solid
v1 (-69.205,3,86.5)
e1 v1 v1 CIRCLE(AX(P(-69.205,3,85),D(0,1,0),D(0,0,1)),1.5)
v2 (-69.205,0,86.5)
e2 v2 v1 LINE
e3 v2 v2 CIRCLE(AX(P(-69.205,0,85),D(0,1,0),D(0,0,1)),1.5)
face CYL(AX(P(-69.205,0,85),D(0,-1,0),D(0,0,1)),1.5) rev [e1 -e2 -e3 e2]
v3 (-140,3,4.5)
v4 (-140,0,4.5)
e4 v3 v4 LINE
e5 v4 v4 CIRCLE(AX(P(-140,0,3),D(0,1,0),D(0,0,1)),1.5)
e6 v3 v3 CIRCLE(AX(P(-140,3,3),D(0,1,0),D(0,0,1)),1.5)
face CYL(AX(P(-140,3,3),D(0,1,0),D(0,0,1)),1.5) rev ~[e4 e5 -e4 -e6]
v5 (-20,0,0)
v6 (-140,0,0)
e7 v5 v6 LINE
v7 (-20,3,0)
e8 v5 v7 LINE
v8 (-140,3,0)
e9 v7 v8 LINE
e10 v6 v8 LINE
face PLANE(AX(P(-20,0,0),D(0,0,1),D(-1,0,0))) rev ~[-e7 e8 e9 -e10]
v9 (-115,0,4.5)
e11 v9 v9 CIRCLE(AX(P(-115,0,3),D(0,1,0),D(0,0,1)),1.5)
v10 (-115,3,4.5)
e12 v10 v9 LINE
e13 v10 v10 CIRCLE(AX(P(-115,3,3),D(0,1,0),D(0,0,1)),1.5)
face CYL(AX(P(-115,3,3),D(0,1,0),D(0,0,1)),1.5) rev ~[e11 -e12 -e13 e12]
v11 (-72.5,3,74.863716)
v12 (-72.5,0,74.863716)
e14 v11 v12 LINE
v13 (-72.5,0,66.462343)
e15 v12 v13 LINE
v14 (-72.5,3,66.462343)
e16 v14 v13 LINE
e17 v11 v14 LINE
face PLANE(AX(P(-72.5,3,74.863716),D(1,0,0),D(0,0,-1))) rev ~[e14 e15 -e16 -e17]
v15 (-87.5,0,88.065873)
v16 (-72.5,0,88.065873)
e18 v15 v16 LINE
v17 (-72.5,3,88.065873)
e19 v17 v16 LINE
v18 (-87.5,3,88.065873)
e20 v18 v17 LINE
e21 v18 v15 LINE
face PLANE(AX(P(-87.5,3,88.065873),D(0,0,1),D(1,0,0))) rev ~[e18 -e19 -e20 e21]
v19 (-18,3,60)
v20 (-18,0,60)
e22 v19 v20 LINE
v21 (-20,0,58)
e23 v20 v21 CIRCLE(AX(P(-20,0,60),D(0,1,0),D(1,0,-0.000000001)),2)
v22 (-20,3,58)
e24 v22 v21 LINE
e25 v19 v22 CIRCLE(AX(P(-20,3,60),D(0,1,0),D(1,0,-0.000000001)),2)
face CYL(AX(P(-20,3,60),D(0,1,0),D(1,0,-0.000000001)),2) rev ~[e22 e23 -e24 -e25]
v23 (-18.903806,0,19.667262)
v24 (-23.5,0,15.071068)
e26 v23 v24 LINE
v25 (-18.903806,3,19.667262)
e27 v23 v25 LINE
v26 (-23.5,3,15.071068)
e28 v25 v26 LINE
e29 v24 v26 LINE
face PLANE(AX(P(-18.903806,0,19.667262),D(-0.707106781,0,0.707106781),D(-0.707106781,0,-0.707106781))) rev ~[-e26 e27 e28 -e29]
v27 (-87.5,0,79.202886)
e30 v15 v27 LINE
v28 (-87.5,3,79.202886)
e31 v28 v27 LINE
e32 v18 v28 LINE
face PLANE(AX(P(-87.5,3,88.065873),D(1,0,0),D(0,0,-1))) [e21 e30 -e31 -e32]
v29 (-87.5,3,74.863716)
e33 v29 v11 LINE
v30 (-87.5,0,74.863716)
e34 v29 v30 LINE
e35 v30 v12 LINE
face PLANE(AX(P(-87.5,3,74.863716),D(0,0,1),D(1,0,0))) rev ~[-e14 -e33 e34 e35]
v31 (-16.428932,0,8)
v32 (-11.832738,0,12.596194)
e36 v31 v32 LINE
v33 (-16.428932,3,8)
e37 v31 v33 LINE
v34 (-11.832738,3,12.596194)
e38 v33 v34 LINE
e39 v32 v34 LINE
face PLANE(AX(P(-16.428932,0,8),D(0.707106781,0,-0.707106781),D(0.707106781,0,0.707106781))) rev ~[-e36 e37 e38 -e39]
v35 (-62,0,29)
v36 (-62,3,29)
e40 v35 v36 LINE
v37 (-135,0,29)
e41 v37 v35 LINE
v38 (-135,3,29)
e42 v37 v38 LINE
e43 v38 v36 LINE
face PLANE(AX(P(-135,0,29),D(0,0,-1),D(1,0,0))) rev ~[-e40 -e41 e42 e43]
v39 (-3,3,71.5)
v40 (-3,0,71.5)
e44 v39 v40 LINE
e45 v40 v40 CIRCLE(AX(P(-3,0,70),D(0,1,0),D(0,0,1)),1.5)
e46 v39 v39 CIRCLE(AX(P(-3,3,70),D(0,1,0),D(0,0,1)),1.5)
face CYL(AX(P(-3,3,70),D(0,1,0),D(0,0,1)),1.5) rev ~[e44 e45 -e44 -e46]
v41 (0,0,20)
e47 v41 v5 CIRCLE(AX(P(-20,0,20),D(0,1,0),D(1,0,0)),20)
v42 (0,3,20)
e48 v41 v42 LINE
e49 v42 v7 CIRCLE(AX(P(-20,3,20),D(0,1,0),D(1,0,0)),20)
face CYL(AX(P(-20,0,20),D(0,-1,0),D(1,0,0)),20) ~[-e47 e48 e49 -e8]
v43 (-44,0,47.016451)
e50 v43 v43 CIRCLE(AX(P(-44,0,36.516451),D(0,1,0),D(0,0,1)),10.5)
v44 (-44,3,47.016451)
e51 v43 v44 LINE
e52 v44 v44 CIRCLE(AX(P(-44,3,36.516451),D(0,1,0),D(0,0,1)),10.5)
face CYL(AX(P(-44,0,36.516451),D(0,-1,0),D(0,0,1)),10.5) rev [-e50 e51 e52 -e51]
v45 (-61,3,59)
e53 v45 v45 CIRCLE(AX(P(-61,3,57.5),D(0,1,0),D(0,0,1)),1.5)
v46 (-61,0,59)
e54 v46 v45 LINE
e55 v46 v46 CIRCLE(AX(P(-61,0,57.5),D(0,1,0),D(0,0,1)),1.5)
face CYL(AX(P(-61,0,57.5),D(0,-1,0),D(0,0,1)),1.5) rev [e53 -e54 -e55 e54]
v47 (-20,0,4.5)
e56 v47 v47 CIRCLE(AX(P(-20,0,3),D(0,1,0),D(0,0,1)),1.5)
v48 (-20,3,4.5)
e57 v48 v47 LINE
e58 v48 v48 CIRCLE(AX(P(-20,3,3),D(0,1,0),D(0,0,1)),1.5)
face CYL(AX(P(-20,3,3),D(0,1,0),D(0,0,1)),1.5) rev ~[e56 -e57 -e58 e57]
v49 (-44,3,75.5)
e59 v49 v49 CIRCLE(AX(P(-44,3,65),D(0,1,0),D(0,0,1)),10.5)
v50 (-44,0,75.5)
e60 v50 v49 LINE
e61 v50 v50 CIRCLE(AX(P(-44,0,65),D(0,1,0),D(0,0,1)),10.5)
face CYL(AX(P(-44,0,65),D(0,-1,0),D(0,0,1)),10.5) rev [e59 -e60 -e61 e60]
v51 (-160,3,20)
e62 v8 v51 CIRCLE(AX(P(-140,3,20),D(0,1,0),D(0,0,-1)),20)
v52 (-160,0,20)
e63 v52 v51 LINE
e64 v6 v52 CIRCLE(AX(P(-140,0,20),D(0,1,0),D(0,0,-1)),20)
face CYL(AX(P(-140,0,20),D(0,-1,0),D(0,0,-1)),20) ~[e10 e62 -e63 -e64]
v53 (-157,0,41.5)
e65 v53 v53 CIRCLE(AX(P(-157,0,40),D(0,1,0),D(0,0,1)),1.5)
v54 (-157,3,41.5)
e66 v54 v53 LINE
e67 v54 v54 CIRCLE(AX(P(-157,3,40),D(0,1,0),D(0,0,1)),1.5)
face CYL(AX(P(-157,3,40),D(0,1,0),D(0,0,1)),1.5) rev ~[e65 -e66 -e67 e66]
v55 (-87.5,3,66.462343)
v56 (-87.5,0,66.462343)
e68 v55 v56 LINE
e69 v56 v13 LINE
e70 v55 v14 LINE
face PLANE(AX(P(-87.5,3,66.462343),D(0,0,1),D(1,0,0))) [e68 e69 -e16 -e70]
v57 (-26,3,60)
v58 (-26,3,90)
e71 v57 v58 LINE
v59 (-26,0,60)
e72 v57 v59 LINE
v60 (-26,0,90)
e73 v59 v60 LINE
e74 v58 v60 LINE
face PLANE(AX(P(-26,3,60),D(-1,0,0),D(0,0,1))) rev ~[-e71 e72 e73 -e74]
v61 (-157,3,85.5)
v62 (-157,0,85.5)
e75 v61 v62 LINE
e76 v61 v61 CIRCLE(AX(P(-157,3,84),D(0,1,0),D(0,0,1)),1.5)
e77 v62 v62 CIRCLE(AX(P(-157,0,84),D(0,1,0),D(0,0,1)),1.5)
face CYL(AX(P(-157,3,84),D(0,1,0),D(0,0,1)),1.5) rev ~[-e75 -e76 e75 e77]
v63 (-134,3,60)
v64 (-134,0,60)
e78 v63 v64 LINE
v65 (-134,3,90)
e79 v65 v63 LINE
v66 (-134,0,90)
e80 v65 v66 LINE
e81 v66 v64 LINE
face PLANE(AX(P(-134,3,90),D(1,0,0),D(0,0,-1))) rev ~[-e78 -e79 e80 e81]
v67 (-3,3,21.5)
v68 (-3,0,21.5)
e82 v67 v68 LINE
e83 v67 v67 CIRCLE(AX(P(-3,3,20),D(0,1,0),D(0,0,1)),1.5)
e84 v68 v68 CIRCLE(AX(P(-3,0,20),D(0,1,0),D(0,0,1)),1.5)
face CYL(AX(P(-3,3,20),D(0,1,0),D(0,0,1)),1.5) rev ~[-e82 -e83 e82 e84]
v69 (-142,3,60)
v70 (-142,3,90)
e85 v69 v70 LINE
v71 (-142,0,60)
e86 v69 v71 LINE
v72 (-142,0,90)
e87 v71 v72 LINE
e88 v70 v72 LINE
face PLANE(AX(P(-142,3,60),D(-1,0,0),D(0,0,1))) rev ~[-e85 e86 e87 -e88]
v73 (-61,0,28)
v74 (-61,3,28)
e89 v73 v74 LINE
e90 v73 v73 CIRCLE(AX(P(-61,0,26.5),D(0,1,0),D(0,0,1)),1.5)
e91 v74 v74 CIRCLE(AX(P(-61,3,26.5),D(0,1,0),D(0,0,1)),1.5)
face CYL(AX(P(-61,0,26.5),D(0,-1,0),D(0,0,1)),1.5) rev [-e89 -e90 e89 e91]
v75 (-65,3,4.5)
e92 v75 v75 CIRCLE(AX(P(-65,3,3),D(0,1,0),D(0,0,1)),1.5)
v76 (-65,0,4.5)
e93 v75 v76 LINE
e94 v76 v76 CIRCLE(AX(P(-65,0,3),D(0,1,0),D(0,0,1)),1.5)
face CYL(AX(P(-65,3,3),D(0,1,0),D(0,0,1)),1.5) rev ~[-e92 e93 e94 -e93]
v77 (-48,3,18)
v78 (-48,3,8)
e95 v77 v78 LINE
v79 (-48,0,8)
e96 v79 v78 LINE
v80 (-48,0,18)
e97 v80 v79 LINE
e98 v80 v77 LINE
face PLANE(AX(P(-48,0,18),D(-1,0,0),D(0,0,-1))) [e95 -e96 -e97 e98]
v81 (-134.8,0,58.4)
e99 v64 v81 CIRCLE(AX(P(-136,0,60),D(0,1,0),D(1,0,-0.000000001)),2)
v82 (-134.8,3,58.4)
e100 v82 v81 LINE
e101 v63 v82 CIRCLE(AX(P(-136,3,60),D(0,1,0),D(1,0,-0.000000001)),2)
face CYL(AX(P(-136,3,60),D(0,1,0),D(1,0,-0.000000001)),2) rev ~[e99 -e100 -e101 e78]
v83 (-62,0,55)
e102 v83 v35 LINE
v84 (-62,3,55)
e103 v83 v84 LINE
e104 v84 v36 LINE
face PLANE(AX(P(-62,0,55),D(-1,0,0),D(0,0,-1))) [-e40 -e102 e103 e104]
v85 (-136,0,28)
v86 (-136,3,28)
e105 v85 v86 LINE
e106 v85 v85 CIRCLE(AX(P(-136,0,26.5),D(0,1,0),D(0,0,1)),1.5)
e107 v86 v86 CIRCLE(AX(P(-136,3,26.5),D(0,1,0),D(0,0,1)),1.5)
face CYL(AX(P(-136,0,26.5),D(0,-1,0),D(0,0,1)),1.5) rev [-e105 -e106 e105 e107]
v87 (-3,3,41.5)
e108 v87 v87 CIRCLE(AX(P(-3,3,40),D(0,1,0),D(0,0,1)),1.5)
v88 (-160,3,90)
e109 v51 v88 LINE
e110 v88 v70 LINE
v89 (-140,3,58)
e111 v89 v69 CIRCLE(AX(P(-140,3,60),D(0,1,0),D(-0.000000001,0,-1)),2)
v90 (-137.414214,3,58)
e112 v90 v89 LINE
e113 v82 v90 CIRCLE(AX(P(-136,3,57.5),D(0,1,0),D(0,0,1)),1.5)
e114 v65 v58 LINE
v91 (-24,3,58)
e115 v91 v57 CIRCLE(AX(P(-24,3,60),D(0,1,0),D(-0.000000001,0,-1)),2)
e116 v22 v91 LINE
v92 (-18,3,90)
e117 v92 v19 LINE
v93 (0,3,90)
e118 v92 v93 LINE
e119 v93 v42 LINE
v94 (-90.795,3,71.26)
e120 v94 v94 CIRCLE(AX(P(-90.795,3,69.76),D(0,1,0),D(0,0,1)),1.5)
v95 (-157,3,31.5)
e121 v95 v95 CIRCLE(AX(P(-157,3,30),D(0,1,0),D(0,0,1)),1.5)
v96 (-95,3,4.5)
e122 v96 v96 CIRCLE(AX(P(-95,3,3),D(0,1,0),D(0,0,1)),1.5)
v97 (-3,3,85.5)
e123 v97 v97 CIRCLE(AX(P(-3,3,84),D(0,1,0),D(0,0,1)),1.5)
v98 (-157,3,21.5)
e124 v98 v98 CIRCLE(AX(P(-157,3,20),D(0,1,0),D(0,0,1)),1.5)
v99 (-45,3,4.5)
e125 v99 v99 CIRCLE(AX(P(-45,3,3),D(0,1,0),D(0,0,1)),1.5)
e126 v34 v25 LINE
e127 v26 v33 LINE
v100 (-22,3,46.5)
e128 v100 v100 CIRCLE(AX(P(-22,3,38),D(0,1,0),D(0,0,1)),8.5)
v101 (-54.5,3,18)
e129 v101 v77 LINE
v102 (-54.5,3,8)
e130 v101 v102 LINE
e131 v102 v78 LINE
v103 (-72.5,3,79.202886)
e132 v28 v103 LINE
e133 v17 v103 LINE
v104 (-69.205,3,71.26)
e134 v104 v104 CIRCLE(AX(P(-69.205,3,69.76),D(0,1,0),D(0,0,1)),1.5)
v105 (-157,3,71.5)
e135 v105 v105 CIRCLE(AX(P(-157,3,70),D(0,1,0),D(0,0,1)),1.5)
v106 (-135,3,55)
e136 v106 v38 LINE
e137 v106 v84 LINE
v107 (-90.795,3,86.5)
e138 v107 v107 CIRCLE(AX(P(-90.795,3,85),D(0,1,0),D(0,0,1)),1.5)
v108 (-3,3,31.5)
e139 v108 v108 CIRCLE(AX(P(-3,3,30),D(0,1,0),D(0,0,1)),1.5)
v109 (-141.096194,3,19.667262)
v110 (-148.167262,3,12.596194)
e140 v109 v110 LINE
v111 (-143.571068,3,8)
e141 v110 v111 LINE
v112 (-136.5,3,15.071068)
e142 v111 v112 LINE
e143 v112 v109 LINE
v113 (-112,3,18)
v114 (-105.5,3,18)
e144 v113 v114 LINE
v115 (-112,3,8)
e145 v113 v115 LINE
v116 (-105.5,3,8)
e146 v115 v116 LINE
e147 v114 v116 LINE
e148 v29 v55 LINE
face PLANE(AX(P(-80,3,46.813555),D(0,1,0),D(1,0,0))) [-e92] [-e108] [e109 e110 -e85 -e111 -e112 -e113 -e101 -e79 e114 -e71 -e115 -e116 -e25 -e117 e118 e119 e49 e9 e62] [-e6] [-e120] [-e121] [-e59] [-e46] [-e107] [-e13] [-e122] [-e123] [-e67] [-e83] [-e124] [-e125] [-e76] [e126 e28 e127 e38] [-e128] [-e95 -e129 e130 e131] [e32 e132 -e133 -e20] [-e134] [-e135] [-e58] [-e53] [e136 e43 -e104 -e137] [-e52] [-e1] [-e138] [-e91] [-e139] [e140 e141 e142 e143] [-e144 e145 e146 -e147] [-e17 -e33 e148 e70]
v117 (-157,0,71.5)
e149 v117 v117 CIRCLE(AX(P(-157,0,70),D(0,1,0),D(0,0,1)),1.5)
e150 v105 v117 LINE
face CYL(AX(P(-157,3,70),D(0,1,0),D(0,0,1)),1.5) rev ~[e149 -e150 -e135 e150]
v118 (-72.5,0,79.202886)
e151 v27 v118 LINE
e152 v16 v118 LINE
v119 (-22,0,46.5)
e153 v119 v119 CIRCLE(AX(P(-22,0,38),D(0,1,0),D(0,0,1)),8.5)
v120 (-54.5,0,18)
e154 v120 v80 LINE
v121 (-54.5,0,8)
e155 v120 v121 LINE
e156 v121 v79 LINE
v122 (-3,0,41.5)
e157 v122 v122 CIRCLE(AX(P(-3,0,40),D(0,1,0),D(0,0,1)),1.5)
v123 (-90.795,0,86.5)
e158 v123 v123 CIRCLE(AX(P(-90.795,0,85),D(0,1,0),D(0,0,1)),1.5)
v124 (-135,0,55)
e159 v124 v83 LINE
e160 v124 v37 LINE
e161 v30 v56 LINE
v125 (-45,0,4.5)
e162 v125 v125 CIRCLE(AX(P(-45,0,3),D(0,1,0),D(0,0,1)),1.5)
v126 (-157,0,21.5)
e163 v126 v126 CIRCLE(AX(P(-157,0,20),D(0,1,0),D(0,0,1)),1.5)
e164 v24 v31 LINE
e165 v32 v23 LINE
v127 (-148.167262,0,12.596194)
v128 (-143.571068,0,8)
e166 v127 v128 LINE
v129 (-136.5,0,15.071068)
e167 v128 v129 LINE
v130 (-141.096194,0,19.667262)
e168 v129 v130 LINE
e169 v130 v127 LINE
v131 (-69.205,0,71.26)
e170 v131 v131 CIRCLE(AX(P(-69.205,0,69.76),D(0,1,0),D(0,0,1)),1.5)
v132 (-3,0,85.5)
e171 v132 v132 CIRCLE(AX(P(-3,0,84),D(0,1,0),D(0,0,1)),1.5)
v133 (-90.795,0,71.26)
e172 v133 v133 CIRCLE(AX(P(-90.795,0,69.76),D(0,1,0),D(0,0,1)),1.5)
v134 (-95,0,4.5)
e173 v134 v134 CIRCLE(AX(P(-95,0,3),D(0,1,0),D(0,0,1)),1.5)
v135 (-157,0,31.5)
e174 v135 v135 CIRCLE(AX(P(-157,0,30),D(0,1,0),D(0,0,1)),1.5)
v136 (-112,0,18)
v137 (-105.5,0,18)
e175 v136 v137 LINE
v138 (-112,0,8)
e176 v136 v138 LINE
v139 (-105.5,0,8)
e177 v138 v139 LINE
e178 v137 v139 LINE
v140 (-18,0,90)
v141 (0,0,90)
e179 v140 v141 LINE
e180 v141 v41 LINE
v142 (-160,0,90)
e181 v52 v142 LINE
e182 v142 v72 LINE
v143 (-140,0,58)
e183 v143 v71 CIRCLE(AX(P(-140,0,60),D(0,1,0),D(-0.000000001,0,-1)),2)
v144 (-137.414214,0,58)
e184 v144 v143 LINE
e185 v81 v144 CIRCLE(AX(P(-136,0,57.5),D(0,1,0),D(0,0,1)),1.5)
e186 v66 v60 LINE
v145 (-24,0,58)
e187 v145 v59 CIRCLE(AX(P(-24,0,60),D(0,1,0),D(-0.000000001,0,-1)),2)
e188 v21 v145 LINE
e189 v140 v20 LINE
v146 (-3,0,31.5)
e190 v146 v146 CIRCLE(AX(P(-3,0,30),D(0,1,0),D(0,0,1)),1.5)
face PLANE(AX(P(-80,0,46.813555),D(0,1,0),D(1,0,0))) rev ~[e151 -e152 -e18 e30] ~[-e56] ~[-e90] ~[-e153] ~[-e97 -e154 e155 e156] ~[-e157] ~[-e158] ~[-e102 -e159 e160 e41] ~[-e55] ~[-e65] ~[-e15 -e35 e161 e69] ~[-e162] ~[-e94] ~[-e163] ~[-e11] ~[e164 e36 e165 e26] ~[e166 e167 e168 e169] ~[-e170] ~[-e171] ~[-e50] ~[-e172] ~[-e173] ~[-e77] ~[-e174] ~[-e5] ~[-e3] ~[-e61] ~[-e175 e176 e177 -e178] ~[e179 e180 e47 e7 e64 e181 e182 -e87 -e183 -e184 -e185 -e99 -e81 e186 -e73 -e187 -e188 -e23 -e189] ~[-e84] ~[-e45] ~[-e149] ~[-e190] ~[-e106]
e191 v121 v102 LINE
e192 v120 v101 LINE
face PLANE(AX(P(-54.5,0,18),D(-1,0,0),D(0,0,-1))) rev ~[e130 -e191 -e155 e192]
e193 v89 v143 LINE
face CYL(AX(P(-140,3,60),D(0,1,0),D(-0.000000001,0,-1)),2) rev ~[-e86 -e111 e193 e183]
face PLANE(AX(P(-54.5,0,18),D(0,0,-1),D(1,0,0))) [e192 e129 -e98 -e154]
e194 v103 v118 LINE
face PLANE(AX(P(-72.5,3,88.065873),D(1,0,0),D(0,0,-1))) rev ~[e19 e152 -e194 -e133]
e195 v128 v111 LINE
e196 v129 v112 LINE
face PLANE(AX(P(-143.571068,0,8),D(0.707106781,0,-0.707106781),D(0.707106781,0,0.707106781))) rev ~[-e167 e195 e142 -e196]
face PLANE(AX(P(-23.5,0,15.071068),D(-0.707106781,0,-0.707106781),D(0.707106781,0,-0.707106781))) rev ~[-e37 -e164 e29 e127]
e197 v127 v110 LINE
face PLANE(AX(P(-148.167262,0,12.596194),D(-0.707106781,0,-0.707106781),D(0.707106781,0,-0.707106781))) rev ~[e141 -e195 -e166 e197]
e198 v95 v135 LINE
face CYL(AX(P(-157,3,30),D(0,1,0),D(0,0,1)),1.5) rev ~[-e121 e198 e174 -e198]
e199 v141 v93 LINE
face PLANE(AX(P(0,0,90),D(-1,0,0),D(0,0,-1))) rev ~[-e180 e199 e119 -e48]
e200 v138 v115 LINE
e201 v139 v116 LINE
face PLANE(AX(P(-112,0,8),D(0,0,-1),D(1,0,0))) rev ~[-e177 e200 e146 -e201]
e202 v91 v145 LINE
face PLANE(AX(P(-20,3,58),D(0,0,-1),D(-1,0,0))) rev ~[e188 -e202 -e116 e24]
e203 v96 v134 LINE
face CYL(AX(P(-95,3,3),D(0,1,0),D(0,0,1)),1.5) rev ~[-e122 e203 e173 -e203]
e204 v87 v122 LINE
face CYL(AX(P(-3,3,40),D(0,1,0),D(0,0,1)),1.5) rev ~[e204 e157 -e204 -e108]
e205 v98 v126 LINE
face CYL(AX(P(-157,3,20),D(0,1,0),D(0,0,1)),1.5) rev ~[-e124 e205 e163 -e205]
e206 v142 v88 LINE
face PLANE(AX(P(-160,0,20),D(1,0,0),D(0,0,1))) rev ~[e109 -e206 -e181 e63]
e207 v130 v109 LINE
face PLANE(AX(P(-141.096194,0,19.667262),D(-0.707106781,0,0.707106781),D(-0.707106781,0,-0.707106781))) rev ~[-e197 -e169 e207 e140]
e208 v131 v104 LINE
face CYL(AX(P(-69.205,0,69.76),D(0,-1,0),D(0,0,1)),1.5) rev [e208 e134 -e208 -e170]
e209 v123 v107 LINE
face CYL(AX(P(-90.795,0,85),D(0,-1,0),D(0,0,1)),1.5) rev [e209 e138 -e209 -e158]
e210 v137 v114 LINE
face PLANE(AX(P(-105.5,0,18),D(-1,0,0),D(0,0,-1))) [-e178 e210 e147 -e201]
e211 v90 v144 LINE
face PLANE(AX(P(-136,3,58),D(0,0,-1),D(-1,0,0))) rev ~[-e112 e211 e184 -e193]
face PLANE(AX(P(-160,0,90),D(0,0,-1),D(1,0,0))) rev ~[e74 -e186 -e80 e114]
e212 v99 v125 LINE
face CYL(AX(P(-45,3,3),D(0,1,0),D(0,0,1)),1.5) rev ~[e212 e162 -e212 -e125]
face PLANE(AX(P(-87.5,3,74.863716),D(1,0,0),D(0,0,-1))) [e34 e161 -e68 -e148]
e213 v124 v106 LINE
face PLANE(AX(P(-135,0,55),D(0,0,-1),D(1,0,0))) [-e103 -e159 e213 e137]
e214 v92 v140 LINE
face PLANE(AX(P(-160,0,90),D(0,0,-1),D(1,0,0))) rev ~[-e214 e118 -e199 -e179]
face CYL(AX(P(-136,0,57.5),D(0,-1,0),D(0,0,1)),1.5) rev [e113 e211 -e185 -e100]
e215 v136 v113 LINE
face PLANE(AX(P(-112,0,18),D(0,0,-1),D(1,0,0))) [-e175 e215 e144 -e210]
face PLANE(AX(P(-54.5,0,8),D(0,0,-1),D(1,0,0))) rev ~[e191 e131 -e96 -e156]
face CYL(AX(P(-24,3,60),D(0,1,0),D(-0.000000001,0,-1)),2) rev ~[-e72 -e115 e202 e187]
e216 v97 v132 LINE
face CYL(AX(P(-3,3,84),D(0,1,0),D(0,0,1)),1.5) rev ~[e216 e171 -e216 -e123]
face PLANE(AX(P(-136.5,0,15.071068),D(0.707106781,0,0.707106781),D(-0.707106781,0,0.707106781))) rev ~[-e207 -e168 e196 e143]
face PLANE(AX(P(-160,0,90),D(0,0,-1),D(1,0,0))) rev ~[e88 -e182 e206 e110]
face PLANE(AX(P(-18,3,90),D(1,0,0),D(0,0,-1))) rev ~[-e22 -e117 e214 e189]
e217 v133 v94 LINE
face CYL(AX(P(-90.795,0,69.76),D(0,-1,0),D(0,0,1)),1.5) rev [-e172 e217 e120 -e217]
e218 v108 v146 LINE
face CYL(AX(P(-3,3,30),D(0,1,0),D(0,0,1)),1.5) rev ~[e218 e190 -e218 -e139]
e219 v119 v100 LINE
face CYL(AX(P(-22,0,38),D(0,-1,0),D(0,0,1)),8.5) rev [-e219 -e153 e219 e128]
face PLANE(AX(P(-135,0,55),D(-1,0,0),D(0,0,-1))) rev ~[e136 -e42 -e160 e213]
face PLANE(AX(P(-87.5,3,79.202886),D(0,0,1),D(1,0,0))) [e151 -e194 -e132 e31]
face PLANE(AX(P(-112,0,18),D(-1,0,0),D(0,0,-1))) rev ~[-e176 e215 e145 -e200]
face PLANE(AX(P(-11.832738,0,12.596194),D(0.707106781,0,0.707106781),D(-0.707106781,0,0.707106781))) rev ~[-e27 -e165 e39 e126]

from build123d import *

# Parameters (mm, degrees)
CROQUIS1_R              = 1.5
CROQUIS1_R_2            = 10.5
CROQUIS1_R_3            = 8.5
CROQUIS1_W              = 73
CROQUIS1_H              = 26
CROQUIS1_W_2            = 6.5
CROQUIS1_H_2            = 10
SALIENTE_EXTRUIR2_DEPTH = 3
CORTAR_EXTRUIR1_DEPTH   = 10
CROQUIS3_R              = 1.5
CORTAR_EXTRUIR2_DEPTH   = 10
CROQUIS4_W              = 15
CROQUIS4_H              = 8.401372908
CROQUIS4_H_2            = 8.862986804
CORTAR_EXTRUIR3_DEPTH   = 10


with BuildPart() as part:
    # Croquis1 → Saliente-Extruir2 (new body)
    with BuildSketch(Plane(origin=(0, 0, 0), x_dir=(1, 0, 0), z_dir=(0, 1, 0))):
        with BuildLine():
            Line((-20, 0), (-140, 0))
            ThreePointArc((-140, 0), (-154.142135624, -5.857864376), (-160, -20))
            Line((-160, -20), (-160, -90))
            Line((-160, -90), (0, -90))
            Line((0, -90), (0, -20))
            ThreePointArc((0, -20), (-5.857864376, -5.857864376), (-20, 0))
        make_face()
        with Locations(Location((-61, -26.5, 0), (0, 0, 270))):
            Circle(CROQUIS1_R, mode=Mode.SUBTRACT)
        with Locations(Location((-61, -57.5, 0), (0, 0, 270))):
            Circle(CROQUIS1_R, mode=Mode.SUBTRACT)
        with Locations(Location((-136, -57.5, 0), (0, 0, 270))):
            Circle(CROQUIS1_R, mode=Mode.SUBTRACT)
        with Locations(Location((-136, -26.5, 0), (0, 0, 270))):
            Circle(CROQUIS1_R, mode=Mode.SUBTRACT)
        with Locations(Location((-44, -65, 0), (0, 0, 270))):
            Circle(CROQUIS1_R_2, mode=Mode.SUBTRACT)
        with Locations(Location((-44, -36.51645059, 0), (0, 0, 270))):
            Circle(CROQUIS1_R_2, mode=Mode.SUBTRACT)
        with Locations(Location((-22, -38, 0), (0, 0, 270))):
            Circle(CROQUIS1_R_3, mode=Mode.SUBTRACT)
        with Locations(Location((-90.795, -69.76, 0), (0, 0, 270))):
            Circle(CROQUIS1_R, mode=Mode.SUBTRACT)
        with Locations(Location((-69.205, -69.76, 0), (0, 0, 270))):
            Circle(CROQUIS1_R, mode=Mode.SUBTRACT)
        with Locations(Location((-69.205, -85, 0), (0, 0, 270))):
            Circle(CROQUIS1_R, mode=Mode.SUBTRACT)
        with Locations(Location((-90.795, -85, 0), (0, 0, 270))):
            Circle(CROQUIS1_R, mode=Mode.SUBTRACT)
        with Locations((-98.5, -42)):
            Rectangle(CROQUIS1_W, CROQUIS1_H, mode=Mode.SUBTRACT)
        Polygon((-148.16726189, -12.596194078), (-143.571067812, -8), (-136.5, -15.071067812), (-141.096194078, -19.66726189), align=None, mode=Mode.SUBTRACT)
        with Locations((-51.25, -13)):
            Rectangle(CROQUIS1_W_2, CROQUIS1_H_2, mode=Mode.SUBTRACT)
        with Locations((-108.75, -13)):
            Rectangle(CROQUIS1_W_2, CROQUIS1_H_2, mode=Mode.SUBTRACT)
        Polygon((-16.428932188, -8), (-11.83273811, -12.596194078), (-18.903805922, -19.66726189), (-23.5, -15.071067812), align=None, mode=Mode.SUBTRACT)
    extrude(amount=SALIENTE_EXTRUIR2_DEPTH)

    # Croquis2 → Cortar-Extruir1 (cut)
    with BuildSketch(Plane(origin=(0, 3, 0), x_dir=(1, 0, 0), z_dir=(0, 1, 0))):
        with BuildLine():
            Line((-142, -90), (-134, -90))
            Line((-134, -90), (-134, -60))
            ThreePointArc((-134, -60), (-134.585786438, -58.585786438), (-136, -58))
            Line((-136, -58), (-140, -58))
            ThreePointArc((-140, -58), (-141.414213562, -58.585786438), (-142, -60))
            Line((-142, -60), (-142, -90))
        make_face()
        with BuildLine():
            Line((-26, -90), (-18, -90))
            Line((-18, -90), (-18, -60))
            ThreePointArc((-18, -60), (-18.585786438, -58.585786438), (-20, -58))
            Line((-20, -58), (-24, -58))
            ThreePointArc((-24, -58), (-25.414213562, -58.585786438), (-26, -60))
            Line((-26, -60), (-26, -90))
        make_face()
    extrude(amount=-CORTAR_EXTRUIR1_DEPTH, mode=Mode.SUBTRACT)

    # Croquis3 → Cortar-Extruir2 (cut)
    with BuildSketch(Plane(origin=(0, 3, 0), x_dir=(1, 0, 0), z_dir=(0, 1, 0))):
        with Locations(Location((-157, -84, 0), (0, 0, 270))):
            Circle(CROQUIS3_R)
        with Locations(Location((-157, -70, 0), (0, 0, 270))):
            Circle(CROQUIS3_R)
        with Locations(Location((-157, -40, 0), (0, 0, 270))):
            Circle(CROQUIS3_R)
        with Locations(Location((-157, -30, 0), (0, 0, 270))):
            Circle(CROQUIS3_R)
        with Locations(Location((-140, -3, 0), (0, 0, 270))):
            Circle(CROQUIS3_R)
        with Locations(Location((-115, -3, 0), (0, 0, 270))):
            Circle(CROQUIS3_R)
        with Locations(Location((-95, -3, 0), (0, 0, 270))):
            Circle(CROQUIS3_R)
        with Locations(Location((-65, -3, 0), (0, 0, 270))):
            Circle(CROQUIS3_R)
        with Locations(Location((-45, -3, 0), (0, 0, 270))):
            Circle(CROQUIS3_R)
        with Locations(Location((-20, -3, 0), (0, 0, 270))):
            Circle(CROQUIS3_R)
        with Locations(Location((-3, -30, 0), (0, 0, 270))):
            Circle(CROQUIS3_R)
        with Locations(Location((-3, -40, 0), (0, 0, 270))):
            Circle(CROQUIS3_R)
        with Locations(Location((-3, -70, 0), (0, 0, 270))):
            Circle(CROQUIS3_R)
        with Locations(Location((-3, -84, 0), (0, 0, 270))):
            Circle(CROQUIS3_R)
        with Locations(Location((-157, -20, 0), (0, 0, 270))):
            Circle(CROQUIS3_R)
        with Locations(Location((-3, -20, 0), (0, 0, 270))):
            Circle(CROQUIS3_R)
    extrude(amount=-CORTAR_EXTRUIR2_DEPTH, mode=Mode.SUBTRACT)

    # Croquis4 → Cortar-Extruir3 (cut)
    with BuildSketch(Plane(origin=(0, 3, 0), x_dir=(1, 0, 0), z_dir=(0, 1, 0))):
        with Locations((-80, -70.663029374)):
            Rectangle(CROQUIS4_W, CROQUIS4_H)
        with Locations((-80, -83.634379853)):
            Rectangle(CROQUIS4_W, CROQUIS4_H_2)
    extrude(amount=-CORTAR_EXTRUIR3_DEPTH, mode=Mode.SUBTRACT)


solid = part.part
